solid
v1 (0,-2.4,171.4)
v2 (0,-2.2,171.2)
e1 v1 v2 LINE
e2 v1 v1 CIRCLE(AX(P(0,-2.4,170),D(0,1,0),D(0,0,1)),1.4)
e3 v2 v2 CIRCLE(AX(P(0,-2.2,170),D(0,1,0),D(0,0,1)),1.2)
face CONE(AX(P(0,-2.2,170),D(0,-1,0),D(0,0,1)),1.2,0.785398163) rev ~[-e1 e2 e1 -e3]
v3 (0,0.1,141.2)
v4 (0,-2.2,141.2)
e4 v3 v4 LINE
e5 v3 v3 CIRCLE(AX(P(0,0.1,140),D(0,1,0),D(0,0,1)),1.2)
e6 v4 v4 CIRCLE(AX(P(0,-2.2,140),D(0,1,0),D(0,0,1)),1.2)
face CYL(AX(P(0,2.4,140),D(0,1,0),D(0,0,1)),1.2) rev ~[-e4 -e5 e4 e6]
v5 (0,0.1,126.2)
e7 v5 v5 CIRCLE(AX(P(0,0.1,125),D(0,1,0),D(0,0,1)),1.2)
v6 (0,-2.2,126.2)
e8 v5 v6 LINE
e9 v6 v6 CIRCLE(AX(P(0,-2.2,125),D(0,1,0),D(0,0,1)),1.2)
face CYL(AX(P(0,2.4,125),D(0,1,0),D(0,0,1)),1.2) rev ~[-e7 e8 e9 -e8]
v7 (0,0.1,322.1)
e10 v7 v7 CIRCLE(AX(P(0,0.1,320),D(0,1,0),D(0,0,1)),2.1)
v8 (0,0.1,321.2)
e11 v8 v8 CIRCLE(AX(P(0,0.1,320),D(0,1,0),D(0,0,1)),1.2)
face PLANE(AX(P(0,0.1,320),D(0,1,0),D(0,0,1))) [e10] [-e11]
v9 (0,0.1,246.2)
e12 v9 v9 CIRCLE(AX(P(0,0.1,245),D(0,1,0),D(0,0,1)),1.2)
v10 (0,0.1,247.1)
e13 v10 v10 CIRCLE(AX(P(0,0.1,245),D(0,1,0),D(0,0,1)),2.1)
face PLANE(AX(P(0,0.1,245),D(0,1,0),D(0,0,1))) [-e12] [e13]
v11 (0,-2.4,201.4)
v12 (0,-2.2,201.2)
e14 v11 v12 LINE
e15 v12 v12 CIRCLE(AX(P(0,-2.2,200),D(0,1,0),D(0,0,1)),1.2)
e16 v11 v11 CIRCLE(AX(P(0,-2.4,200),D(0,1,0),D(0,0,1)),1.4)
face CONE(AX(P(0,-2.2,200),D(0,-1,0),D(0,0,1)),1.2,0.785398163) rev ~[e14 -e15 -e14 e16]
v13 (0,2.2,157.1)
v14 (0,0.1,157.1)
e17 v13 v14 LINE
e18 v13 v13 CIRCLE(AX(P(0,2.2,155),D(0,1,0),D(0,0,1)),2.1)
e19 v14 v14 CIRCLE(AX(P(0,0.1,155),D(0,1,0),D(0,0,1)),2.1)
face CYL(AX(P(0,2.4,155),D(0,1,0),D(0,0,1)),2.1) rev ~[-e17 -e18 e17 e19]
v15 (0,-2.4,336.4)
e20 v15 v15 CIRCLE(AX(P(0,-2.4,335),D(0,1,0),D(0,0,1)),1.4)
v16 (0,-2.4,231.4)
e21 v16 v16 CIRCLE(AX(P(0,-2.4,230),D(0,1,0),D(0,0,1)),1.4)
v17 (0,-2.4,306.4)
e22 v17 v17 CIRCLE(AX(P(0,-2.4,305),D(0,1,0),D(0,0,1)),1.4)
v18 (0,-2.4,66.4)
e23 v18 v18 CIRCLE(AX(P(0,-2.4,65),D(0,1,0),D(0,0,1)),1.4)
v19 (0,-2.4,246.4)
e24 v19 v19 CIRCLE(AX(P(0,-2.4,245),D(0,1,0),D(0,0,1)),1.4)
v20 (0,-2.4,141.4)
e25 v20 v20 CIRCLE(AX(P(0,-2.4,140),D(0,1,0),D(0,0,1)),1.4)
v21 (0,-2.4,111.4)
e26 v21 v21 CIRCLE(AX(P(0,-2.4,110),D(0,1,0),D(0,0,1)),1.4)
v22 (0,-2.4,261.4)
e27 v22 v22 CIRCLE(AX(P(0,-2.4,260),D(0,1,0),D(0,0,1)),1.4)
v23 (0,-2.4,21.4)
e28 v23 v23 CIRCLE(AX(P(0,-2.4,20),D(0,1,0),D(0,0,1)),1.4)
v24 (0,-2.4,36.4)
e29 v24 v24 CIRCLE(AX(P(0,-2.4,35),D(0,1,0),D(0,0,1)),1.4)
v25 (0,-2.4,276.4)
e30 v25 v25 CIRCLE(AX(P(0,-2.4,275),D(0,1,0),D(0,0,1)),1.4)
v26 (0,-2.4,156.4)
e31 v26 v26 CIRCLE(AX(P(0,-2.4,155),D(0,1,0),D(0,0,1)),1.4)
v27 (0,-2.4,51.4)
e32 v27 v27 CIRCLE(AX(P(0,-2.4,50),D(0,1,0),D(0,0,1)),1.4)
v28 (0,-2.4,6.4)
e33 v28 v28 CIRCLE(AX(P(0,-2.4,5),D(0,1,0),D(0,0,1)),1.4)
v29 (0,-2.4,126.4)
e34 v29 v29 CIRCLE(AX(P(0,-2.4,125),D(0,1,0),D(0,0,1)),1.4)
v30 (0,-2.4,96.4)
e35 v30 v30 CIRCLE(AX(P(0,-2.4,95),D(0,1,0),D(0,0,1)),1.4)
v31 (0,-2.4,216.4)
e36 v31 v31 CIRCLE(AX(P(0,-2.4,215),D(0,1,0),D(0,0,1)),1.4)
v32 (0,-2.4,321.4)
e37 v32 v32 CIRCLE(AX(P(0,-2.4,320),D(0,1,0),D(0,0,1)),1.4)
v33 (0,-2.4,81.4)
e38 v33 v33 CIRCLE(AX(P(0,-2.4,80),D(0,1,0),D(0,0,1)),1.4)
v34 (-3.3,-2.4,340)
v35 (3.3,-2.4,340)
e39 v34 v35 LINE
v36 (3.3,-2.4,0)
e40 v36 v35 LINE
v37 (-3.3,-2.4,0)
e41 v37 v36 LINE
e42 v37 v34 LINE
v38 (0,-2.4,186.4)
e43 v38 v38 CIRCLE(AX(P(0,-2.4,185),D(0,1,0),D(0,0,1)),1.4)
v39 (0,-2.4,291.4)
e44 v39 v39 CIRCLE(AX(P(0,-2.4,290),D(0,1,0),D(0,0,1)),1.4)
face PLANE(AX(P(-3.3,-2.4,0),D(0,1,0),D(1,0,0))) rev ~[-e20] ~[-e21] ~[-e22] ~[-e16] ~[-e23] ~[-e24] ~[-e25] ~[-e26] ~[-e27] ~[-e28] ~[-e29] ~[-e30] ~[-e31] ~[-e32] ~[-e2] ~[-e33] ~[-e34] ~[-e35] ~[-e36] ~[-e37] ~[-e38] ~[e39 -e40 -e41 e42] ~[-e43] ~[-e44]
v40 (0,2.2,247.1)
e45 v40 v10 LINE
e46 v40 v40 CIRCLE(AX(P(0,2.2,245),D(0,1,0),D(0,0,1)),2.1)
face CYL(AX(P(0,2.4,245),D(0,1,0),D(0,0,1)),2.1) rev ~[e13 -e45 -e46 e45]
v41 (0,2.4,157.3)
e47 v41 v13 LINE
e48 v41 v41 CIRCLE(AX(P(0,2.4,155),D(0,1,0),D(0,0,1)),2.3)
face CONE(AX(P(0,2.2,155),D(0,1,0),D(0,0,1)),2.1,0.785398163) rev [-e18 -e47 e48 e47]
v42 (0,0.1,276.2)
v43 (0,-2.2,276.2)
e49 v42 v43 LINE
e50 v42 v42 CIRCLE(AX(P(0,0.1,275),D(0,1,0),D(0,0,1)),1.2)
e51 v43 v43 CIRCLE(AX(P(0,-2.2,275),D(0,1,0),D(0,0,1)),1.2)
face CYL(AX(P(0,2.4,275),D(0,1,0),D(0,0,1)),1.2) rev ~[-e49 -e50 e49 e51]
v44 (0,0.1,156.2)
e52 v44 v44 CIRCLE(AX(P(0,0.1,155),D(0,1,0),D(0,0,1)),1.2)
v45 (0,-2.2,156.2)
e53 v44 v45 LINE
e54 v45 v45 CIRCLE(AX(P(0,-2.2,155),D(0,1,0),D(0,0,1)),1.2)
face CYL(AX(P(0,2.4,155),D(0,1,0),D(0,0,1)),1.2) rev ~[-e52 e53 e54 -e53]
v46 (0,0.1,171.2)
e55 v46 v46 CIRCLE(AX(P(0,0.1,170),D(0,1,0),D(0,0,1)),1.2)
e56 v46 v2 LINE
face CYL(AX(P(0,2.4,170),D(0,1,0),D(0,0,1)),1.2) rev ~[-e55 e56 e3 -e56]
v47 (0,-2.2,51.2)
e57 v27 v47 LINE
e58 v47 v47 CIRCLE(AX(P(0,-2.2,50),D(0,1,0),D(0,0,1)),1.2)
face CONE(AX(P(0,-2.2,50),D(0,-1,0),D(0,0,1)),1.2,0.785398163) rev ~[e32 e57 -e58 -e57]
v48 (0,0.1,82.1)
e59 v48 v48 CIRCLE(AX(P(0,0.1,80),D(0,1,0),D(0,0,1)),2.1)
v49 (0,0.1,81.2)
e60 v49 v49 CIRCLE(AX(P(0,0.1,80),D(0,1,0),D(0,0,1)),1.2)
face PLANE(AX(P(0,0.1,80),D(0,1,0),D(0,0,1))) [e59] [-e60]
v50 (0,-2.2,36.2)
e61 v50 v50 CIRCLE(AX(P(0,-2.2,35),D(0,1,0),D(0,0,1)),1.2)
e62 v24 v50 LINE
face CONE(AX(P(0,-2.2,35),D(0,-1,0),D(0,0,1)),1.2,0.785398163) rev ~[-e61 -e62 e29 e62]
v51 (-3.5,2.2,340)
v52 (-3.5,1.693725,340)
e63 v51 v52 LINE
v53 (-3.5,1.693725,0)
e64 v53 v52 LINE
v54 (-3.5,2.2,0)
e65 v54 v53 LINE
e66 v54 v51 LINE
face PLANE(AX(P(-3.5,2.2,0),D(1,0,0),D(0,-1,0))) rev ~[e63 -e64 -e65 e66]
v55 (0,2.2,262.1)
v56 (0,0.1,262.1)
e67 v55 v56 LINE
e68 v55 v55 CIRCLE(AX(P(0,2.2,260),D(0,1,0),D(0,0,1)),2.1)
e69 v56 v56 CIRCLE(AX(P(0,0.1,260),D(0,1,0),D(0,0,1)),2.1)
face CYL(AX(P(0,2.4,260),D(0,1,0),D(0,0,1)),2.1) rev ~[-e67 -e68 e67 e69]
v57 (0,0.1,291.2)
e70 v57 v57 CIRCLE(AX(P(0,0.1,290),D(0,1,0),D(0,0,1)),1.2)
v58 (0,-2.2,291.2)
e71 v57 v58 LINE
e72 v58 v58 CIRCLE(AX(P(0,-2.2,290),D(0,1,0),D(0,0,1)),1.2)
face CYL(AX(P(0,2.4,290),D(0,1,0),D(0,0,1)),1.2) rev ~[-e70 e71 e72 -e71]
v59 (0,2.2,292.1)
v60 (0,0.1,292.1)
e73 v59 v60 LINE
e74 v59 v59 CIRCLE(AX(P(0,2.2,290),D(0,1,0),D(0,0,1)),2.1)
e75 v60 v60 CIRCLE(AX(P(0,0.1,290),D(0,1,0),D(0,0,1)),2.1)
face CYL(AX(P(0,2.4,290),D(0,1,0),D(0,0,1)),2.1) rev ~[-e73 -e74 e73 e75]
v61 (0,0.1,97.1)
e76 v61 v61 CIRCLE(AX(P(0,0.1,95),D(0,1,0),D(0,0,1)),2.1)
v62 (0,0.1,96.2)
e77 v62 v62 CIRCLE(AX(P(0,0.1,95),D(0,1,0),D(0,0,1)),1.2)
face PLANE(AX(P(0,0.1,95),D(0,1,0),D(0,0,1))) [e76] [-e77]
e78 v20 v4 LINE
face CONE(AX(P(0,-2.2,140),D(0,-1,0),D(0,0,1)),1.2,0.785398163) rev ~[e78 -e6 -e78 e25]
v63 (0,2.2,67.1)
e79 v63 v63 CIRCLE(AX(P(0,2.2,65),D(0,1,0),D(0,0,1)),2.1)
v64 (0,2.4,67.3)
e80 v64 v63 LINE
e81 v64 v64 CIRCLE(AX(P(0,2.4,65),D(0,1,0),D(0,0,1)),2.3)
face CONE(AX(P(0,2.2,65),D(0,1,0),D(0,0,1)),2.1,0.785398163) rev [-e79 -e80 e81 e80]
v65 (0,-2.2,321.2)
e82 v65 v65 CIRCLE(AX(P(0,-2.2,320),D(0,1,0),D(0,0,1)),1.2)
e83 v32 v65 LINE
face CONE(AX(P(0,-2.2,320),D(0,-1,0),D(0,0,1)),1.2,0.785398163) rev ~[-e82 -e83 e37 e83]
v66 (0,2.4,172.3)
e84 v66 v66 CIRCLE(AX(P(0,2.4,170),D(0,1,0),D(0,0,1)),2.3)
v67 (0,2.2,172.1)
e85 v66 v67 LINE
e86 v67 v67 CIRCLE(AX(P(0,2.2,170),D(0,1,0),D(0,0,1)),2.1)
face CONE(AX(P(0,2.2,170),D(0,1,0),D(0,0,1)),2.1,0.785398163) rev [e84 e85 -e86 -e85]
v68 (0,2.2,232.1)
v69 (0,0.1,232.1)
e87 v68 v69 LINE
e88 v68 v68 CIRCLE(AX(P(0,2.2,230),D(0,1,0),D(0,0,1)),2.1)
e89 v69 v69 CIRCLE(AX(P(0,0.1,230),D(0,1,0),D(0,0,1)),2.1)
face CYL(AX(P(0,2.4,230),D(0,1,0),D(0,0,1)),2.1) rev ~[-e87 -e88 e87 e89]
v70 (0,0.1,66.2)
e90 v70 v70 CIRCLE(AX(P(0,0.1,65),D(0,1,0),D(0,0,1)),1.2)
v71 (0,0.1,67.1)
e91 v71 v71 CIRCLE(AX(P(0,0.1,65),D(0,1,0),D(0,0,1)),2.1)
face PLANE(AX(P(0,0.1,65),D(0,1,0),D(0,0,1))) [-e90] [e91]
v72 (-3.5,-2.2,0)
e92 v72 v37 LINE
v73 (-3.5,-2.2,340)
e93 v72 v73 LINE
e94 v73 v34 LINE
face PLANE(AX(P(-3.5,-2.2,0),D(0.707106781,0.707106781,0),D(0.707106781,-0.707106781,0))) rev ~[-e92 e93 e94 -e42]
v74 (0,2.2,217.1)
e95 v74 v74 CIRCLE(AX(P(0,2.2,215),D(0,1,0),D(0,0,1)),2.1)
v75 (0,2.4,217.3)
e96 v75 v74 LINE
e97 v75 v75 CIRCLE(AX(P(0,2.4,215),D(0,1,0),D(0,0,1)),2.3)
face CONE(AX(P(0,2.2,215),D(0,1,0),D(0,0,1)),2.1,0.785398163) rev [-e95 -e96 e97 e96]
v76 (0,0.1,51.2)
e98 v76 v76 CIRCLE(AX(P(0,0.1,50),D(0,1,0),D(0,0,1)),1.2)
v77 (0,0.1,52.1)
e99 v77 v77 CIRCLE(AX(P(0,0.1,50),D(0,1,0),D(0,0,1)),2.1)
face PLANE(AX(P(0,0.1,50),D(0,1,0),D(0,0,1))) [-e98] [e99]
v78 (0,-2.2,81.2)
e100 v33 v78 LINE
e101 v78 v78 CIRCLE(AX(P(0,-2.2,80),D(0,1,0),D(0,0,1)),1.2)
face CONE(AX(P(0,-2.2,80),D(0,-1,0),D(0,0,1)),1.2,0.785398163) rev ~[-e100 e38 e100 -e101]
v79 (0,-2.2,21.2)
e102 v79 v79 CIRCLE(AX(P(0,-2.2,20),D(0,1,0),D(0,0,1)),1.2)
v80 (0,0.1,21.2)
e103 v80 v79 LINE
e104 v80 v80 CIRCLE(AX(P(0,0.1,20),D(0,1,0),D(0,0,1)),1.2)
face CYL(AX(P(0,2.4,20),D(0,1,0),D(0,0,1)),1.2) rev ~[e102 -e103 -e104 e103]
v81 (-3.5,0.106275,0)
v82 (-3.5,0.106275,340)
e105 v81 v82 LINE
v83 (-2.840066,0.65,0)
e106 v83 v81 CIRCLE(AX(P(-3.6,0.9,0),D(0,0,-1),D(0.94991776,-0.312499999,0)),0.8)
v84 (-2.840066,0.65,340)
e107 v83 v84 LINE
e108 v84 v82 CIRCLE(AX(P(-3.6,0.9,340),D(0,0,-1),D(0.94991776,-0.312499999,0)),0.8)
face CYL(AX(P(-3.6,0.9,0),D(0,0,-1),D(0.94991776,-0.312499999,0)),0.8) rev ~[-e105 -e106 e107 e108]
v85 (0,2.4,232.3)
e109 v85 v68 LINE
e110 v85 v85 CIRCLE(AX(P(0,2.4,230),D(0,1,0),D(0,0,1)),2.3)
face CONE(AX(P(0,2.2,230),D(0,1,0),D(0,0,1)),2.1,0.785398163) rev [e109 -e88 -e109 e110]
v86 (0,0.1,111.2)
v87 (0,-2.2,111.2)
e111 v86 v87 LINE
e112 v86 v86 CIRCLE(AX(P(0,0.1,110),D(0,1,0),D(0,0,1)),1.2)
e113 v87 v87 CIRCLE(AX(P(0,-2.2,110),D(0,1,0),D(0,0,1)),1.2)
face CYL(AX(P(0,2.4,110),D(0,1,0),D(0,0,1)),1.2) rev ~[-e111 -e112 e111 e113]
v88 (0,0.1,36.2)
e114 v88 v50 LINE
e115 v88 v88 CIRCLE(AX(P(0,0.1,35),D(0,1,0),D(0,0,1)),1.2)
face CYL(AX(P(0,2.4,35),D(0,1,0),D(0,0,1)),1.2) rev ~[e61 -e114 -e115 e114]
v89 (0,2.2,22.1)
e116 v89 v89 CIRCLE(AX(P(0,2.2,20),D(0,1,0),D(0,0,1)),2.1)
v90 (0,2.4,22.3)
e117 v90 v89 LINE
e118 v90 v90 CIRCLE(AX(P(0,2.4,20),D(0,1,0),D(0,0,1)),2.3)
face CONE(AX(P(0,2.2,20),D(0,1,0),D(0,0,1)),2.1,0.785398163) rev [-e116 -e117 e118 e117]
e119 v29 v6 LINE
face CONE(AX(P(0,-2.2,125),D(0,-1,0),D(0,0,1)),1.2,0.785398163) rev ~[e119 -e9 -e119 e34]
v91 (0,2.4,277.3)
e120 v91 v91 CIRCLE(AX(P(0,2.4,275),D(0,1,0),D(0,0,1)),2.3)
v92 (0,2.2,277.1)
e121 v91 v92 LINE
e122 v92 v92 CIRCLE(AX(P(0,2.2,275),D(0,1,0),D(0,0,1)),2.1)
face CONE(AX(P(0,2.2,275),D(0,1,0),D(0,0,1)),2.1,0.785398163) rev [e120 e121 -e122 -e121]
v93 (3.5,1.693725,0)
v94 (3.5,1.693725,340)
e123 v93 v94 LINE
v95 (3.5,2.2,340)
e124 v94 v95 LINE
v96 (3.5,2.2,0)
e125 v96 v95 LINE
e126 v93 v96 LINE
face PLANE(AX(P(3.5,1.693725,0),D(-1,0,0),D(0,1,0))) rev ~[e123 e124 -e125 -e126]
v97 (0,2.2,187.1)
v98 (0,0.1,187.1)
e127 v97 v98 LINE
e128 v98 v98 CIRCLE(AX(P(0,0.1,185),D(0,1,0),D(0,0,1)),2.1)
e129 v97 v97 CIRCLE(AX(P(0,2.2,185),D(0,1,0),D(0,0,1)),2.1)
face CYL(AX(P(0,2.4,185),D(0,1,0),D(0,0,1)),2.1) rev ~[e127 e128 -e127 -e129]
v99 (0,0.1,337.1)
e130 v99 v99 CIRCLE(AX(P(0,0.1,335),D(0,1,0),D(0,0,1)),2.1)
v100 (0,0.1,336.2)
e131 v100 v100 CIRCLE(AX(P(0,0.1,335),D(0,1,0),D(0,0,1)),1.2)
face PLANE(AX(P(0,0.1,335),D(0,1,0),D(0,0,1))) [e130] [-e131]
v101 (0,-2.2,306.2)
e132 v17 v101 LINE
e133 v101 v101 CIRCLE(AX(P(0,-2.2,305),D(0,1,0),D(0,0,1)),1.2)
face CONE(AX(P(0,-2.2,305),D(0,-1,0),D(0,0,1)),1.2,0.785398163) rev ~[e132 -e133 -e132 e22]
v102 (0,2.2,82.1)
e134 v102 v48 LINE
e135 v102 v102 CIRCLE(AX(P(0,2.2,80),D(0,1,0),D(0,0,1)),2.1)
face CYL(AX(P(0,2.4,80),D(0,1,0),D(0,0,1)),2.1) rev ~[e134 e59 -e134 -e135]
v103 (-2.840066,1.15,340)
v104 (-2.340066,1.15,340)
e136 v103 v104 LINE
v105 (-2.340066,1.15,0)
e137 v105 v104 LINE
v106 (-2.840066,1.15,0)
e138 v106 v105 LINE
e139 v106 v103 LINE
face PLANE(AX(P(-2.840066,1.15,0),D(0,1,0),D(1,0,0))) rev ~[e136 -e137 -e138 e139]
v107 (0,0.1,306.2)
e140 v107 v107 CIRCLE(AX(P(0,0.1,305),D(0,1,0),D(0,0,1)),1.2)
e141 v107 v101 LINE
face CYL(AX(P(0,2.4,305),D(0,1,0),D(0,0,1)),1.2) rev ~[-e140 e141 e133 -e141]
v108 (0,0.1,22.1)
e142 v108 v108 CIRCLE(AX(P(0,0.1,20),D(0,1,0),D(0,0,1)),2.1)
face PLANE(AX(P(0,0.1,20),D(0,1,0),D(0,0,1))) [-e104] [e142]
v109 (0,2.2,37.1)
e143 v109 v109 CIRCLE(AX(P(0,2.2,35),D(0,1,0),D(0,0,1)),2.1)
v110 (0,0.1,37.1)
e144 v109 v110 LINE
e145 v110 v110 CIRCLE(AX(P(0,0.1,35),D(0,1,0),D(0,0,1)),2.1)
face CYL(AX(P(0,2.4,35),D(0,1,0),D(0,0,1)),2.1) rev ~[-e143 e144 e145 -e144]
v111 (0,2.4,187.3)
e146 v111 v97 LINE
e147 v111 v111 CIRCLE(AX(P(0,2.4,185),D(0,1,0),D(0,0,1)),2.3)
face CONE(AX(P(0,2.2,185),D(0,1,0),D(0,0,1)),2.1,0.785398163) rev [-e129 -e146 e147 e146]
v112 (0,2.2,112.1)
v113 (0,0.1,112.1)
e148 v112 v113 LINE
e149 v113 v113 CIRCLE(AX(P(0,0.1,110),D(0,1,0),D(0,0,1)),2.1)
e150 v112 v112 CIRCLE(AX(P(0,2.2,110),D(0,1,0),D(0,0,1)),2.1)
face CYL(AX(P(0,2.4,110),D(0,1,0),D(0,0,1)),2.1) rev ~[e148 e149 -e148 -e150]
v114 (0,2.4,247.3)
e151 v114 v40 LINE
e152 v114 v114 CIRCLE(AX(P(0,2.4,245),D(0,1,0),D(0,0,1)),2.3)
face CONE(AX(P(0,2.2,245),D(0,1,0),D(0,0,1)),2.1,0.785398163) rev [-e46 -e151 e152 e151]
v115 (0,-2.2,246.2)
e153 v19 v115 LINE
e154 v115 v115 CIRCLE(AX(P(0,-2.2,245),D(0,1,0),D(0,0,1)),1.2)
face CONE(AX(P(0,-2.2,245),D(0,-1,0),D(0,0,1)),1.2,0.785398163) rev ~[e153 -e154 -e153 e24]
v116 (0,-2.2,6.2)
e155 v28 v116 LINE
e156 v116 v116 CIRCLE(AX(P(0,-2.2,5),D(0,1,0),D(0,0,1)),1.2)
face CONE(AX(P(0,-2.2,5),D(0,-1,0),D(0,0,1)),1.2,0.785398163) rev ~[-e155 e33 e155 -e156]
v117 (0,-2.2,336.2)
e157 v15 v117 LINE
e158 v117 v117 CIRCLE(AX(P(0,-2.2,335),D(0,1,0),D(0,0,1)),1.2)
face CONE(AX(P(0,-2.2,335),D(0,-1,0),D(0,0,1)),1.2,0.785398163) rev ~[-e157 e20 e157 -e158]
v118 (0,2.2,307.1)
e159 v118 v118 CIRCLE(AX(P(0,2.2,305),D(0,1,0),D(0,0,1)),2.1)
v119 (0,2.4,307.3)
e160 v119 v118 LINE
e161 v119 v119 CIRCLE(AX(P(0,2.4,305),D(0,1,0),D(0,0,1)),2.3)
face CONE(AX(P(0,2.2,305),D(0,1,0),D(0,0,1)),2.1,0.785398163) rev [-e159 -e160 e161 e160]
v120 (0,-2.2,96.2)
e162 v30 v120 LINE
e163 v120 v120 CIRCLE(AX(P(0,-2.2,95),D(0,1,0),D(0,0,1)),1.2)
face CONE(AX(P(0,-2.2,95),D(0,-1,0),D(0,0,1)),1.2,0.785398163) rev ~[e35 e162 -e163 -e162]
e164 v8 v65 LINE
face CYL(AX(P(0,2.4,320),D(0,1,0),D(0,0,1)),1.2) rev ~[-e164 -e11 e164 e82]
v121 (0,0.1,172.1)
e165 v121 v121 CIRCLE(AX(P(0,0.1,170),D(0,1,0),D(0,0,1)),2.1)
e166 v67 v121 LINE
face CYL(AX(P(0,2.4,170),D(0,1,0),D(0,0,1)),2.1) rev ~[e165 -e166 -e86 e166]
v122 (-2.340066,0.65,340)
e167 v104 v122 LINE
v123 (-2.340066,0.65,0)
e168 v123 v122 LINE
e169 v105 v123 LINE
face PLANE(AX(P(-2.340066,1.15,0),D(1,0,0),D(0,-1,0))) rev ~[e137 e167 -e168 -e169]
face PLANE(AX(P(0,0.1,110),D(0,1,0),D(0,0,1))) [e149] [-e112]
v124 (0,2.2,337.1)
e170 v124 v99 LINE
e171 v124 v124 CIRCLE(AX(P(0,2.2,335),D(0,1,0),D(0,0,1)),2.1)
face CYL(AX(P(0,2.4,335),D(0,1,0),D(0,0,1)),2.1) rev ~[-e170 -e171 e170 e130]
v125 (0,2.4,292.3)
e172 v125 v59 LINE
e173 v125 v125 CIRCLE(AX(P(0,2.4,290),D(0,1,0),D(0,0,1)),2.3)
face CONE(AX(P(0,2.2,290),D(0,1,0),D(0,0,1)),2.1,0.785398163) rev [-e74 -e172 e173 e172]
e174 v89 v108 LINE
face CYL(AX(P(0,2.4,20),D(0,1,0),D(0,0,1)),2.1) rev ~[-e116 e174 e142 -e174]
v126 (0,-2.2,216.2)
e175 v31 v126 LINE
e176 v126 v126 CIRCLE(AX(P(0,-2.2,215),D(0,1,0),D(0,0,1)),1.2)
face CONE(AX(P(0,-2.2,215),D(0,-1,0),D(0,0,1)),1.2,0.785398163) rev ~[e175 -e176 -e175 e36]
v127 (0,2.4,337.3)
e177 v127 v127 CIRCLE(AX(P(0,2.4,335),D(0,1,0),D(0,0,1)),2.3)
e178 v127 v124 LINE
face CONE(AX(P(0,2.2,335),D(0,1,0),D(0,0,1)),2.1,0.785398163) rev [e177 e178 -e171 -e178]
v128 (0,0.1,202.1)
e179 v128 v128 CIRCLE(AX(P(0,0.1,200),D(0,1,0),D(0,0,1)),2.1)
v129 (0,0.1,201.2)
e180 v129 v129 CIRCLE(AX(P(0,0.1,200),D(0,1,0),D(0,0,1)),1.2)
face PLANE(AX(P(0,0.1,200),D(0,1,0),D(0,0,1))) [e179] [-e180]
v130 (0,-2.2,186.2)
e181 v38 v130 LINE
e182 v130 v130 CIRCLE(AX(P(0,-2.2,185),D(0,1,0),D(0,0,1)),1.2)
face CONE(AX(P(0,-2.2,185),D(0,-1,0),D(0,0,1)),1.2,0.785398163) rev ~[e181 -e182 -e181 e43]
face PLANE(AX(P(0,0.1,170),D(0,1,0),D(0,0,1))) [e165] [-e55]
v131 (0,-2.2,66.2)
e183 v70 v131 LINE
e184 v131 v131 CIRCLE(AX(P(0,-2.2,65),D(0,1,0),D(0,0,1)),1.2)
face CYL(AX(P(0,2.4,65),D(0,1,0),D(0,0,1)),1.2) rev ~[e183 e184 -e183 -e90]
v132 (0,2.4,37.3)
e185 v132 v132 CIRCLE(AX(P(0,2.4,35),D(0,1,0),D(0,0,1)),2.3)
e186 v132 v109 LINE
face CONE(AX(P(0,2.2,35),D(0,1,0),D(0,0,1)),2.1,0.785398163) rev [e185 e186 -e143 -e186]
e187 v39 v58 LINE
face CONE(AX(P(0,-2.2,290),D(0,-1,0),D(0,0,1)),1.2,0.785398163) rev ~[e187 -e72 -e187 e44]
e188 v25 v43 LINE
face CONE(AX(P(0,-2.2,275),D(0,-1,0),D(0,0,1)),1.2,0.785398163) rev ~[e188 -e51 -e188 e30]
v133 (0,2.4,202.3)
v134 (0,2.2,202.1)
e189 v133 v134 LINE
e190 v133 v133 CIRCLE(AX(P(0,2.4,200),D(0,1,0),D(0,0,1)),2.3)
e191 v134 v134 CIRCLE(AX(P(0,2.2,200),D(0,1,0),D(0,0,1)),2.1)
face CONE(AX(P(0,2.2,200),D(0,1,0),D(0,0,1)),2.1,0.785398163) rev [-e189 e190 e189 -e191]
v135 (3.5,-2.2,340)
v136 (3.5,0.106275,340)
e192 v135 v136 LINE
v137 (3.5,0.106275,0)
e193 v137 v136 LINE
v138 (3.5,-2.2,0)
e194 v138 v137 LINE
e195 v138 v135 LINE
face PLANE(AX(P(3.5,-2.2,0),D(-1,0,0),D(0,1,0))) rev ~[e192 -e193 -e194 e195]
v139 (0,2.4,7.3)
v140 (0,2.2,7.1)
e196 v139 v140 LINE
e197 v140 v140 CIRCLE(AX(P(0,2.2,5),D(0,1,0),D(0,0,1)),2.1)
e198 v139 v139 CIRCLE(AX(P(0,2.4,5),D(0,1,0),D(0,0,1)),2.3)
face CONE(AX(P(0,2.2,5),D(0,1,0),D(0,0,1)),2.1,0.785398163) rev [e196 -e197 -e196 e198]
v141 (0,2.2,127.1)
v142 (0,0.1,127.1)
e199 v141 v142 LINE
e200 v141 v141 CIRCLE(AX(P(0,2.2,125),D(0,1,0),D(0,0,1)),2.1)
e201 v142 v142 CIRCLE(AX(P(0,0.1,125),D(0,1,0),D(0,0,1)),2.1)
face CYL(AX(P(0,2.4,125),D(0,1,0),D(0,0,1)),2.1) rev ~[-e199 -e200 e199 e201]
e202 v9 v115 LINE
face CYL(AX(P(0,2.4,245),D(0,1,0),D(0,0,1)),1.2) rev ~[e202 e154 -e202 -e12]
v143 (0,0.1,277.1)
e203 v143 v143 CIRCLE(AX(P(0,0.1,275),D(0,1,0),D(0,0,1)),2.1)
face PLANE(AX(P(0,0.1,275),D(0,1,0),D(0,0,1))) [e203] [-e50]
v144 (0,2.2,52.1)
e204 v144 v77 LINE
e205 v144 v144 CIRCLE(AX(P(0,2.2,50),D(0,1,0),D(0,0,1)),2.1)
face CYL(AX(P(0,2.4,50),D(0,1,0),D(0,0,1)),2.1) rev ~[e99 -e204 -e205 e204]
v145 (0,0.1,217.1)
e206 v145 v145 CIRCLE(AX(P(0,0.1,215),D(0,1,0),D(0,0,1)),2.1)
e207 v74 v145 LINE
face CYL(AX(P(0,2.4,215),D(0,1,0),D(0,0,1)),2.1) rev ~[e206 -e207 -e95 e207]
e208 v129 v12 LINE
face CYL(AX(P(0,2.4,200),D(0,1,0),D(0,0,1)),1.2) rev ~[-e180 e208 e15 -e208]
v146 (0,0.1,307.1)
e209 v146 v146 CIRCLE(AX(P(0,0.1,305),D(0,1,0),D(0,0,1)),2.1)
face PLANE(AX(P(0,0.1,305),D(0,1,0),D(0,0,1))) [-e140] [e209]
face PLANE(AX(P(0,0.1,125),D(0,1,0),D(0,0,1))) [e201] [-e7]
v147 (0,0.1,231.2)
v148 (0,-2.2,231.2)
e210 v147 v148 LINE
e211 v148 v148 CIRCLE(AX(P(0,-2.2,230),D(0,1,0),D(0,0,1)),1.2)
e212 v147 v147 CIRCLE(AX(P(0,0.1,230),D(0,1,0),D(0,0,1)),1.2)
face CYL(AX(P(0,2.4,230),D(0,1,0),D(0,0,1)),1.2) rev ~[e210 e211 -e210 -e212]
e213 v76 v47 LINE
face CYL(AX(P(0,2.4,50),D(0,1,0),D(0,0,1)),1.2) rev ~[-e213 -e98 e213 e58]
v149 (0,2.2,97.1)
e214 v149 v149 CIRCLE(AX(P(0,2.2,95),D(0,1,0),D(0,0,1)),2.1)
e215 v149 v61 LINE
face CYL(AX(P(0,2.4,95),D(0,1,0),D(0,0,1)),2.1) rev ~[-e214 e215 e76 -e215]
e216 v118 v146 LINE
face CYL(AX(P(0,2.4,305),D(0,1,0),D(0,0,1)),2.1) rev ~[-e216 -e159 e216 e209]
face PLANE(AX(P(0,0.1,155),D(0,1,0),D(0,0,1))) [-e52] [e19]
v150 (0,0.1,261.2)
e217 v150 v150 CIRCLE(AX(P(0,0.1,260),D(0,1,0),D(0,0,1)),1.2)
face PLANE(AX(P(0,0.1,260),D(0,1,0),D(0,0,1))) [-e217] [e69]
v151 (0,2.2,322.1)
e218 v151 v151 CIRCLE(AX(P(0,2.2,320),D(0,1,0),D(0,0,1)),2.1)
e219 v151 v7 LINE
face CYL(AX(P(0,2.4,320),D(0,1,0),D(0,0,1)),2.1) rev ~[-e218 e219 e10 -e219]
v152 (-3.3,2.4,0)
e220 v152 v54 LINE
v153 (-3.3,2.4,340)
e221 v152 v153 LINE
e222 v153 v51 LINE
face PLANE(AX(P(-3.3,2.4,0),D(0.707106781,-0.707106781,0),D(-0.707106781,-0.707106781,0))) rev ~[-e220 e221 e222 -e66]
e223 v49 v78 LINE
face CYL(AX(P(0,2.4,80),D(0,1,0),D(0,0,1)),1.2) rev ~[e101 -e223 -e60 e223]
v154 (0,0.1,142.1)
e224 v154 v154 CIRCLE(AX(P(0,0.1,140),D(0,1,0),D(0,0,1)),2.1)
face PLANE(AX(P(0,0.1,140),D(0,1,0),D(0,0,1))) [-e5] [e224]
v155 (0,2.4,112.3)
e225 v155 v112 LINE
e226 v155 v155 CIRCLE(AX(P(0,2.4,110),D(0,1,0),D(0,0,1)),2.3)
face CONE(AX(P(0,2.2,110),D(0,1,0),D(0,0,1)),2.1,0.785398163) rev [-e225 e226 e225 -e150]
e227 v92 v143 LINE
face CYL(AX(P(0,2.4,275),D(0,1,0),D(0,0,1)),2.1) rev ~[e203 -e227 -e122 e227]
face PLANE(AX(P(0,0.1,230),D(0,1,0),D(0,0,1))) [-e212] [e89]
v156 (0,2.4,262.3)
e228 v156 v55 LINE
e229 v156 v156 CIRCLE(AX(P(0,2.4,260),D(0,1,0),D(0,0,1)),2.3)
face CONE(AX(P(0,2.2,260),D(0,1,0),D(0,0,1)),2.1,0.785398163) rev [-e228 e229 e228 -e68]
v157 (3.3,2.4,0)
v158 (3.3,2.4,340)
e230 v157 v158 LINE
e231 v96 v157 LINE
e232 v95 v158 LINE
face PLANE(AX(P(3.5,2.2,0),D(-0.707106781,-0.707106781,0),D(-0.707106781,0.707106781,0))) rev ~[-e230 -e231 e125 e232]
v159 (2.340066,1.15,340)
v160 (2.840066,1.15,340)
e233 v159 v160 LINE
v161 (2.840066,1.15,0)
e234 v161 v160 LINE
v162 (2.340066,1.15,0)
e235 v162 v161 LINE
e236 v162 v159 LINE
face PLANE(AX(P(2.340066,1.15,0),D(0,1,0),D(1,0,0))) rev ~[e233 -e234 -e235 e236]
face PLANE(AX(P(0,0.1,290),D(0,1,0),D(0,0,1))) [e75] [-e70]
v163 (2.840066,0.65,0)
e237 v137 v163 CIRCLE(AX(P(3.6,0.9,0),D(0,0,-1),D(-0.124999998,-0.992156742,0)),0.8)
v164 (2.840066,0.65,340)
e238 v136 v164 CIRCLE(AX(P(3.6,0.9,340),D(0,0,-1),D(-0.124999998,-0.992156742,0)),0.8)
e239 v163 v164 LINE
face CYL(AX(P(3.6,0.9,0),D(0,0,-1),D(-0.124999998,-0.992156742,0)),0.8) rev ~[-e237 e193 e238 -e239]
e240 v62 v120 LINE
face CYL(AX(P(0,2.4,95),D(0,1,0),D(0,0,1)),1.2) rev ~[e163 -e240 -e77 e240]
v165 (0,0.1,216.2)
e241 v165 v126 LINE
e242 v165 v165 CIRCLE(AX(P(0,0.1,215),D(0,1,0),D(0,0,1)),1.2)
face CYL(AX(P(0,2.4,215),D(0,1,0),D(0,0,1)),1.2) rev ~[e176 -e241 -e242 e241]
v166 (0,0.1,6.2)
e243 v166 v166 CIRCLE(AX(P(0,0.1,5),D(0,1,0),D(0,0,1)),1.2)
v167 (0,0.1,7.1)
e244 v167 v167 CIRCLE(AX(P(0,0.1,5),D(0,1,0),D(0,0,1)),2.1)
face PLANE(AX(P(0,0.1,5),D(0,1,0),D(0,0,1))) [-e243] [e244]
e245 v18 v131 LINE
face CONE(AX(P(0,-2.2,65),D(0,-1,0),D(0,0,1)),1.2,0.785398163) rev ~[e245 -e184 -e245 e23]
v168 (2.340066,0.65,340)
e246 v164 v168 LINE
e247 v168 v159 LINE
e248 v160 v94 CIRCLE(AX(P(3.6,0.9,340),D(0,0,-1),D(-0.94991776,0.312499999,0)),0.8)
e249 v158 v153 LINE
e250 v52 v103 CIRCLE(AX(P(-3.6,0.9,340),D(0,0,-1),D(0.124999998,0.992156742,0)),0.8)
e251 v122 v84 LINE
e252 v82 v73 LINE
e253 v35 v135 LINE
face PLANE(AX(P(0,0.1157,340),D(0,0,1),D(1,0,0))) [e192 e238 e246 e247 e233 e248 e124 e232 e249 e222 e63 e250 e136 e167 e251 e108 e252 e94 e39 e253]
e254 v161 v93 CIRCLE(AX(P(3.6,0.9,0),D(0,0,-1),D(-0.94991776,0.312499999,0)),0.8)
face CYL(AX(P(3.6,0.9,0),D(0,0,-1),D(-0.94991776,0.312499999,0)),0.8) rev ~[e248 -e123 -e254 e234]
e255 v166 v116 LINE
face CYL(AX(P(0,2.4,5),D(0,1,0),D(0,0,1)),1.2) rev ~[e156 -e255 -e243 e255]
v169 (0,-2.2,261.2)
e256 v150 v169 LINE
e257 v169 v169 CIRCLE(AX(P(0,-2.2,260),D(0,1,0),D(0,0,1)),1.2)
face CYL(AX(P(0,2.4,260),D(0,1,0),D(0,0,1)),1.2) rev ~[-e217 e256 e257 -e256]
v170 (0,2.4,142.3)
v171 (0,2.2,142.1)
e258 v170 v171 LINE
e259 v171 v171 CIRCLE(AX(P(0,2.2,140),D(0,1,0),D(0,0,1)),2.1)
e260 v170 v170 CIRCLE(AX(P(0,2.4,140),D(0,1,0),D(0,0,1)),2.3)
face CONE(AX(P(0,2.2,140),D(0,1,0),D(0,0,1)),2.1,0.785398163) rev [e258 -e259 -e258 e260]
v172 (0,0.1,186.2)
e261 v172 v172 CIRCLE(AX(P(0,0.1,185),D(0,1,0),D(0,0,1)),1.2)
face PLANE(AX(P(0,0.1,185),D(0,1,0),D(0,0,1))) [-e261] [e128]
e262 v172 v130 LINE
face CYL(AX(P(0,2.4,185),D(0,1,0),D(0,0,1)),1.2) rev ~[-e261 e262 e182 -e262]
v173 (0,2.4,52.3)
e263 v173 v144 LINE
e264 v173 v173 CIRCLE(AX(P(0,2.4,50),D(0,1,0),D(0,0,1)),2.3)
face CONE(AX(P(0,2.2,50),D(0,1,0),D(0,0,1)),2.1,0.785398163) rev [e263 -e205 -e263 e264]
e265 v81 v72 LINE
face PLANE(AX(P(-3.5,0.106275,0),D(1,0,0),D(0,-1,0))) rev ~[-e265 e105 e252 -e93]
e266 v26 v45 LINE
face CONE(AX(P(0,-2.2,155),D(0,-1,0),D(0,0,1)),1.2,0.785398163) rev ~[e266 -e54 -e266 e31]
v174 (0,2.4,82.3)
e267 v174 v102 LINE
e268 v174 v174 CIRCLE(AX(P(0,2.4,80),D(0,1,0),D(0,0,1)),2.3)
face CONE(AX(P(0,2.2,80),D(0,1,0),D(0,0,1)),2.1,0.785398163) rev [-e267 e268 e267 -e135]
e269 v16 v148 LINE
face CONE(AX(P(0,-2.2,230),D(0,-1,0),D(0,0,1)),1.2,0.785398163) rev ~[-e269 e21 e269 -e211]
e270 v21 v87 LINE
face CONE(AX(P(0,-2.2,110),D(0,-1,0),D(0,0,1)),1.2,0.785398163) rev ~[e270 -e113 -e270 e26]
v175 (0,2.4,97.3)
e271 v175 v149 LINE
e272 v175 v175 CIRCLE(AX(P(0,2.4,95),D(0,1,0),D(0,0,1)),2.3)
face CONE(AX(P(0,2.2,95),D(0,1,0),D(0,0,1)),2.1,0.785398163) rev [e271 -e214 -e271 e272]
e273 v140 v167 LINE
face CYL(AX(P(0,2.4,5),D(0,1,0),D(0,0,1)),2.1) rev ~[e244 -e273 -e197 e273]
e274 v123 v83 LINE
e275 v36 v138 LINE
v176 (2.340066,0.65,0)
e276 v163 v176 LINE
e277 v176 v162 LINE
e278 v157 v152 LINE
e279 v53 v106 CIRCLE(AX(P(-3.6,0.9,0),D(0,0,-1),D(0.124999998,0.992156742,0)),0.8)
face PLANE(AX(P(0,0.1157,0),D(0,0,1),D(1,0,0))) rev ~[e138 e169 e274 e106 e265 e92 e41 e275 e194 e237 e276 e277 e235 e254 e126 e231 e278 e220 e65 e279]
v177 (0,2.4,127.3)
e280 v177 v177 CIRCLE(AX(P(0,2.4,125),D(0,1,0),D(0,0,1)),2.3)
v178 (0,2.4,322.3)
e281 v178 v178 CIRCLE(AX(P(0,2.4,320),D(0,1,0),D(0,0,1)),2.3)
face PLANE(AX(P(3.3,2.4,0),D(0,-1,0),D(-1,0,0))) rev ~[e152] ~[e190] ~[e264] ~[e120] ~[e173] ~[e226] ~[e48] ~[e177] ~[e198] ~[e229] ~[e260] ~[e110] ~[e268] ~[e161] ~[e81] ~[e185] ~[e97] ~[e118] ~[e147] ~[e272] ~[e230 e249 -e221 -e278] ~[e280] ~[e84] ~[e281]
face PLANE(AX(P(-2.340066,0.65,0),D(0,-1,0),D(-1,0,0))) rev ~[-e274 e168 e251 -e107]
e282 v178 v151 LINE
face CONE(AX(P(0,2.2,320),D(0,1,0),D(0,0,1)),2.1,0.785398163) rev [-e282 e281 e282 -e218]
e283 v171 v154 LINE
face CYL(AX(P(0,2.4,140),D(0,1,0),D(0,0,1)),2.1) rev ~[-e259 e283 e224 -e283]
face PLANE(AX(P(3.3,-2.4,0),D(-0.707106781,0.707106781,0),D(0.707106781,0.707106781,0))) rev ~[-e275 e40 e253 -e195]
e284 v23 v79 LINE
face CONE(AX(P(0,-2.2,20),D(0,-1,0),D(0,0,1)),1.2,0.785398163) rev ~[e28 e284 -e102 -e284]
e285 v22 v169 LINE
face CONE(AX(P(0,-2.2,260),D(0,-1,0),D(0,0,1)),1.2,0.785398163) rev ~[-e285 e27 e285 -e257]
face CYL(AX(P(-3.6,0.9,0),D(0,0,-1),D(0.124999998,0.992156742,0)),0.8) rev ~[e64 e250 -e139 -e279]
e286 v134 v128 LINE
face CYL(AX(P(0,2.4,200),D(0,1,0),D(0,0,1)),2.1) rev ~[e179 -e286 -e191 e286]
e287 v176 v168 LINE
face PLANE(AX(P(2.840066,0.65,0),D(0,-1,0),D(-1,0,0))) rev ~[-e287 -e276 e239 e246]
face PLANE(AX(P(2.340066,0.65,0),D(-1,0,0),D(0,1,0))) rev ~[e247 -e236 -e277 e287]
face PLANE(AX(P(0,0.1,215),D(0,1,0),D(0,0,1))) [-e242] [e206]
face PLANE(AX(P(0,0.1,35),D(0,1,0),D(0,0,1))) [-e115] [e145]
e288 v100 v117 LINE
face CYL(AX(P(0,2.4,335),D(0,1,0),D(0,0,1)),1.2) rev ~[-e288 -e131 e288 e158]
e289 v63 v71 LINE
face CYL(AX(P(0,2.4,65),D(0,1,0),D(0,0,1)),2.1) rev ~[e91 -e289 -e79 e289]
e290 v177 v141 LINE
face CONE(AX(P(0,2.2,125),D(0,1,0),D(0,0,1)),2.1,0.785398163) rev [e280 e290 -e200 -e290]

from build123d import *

# Parameters (mm, degrees)
EXTRUDE1_DEPTH             = 340
EXTRUDE2_REACH             = 342.052
SKETCH2_R                  = 1.2
SKETCH_R                   = 2.1
SKETCH_R_2                 = 1.2
EXTRUDE4_DEPTH             = 2.3
CHAMFER1_SIZE              = 0.2
LPATTERN1_COUNT            = 23
LPATTERN1_PITCH            = 15
CHAMFER1_OF_LPATTERN1_SIZE = 0.2


with BuildPart() as part:
    # Sketch1 → Extrude1 (new body)
    with BuildSketch(Plane.XY):
        with BuildLine():
            Line((-3.3, -2.4), (3.3, -2.4))
            Line((3.3, -2.4), (3.5, -2.2))
            Line((3.5, -2.2), (3.5, 0.106274607))
            ThreePointArc((3.5, 0.106274607), (3.091294745, 0.282570681), (2.840065792, 0.65))
            Line((2.840065792, 0.65), (2.340065792, 0.65))
            Line((2.340065792, 0.65), (2.340065792, 1.15))
            Line((2.340065792, 1.15), (2.840065792, 1.15))
            ThreePointArc((2.840065792, 1.15), (3.091294745, 1.517429319), (3.5, 1.693725393))
            Line((3.5, 1.693725393), (3.5, 2.2))
            Line((3.5, 2.2), (3.3, 2.4))
            Line((3.3, 2.4), (-3.3, 2.4))
            Line((-3.3, 2.4), (-3.5, 2.2))
            Line((-3.5, 2.2), (-3.5, 1.693725393))
            ThreePointArc((-3.5, 1.693725393), (-3.091294745, 1.517429319), (-2.840065792, 1.15))
            Line((-2.840065792, 1.15), (-2.340065792, 1.15))
            Line((-2.340065792, 1.15), (-2.340065792, 0.65))
            Line((-2.340065792, 0.65), (-2.840065792, 0.65))
            ThreePointArc((-2.840065792, 0.65), (-3.091294745, 0.282570681), (-3.5, 0.106274607))
            Line((-3.5, 0.106274607), (-3.5, -2.2))
            Line((-3.5, -2.2), (-3.3, -2.4))
        make_face()
    extrude(amount=EXTRUDE1_DEPTH)

    # Sketch2 → Extrude2 (cut, up to next)
    with BuildSketch(Plane(origin=(0, 2.4, 0), x_dir=(1, 0, 0), z_dir=(0, 1, 0)), mode=Mode.PRIVATE) as extrude2_sk1:
        with Locations((0, -5)):
            Circle(SKETCH2_R)
    extrude2_tool1 = extrude(extrude2_sk1.sketch, amount=-EXTRUDE2_REACH, mode=Mode.PRIVATE) & part.part
    extrude2 = extrude2_tool1.solids().sort_by_distance((0, 2.4, 5))[0]
    add(extrude2, mode=Mode.SUBTRACT)

    # Sketch → Extrude4 (cut)
    with BuildSketch(Plane(origin=(0, 2.4, 0), x_dir=(1, 0, 0), z_dir=(0, 1, 0))):
        with Locations((0, -5)):
            Circle(SKETCH_R)
        with Locations((0, -5)):
            Circle(SKETCH_R_2, mode=Mode.SUBTRACT)
    extrude4 = extrude(amount=-EXTRUDE4_DEPTH, mode=Mode.SUBTRACT)

    # Chamfer1
    chamfer1_edges = [part.edges().sort_by_distance(p)[0] for p in [
        (-1.2, -2.4, 5),
        (-2.1, 2.4, 5),
    ]]
    chamfer(chamfer1_edges, length=CHAMFER1_SIZE)

    # LPattern1: Extrude2, Extrude4 ×23
    with Locations(*[(0, 0, i * LPATTERN1_PITCH) for i in range(1, LPATTERN1_COUNT)]):
        add(extrude2, mode=Mode.SUBTRACT)
        add(extrude4, mode=Mode.SUBTRACT)

    # Chamfer1 of LPattern1
    chamfer1_of_lpattern1_edges = [part.edges().sort_by_distance(p)[0] for p in [
        (-1.2, -2.4, 20),
        (-2.1, 2.4, 20),
        (-1.2, -2.4, 35),
        (-2.1, 2.4, 35),
        (-1.2, -2.4, 50),
        (-2.1, 2.4, 50),
        (-1.2, -2.4, 65),
        (-2.1, 2.4, 65),
        (-1.2, -2.4, 80),
        (-2.1, 2.4, 80),
        (-1.2, -2.4, 95),
        (-2.1, 2.4, 95),
        (-1.2, -2.4, 110),
        (-2.1, 2.4, 110),
        (-1.2, -2.4, 125),
        (-2.1, 2.4, 125),
        (-1.2, -2.4, 140),
        (-2.1, 2.4, 140),
        (-1.2, -2.4, 155),
        (-2.1, 2.4, 155),
        (-1.2, -2.4, 170),
        (-2.1, 2.4, 170),
        (-1.2, -2.4, 185),
        (-2.1, 2.4, 185),
        (-1.2, -2.4, 200),
        (-2.1, 2.4, 200),
        (-1.2, -2.4, 215),
        (-2.1, 2.4, 215),
        (-1.2, -2.4, 230),
        (-2.1, 2.4, 230),
        (-1.2, -2.4, 245),
        (-2.1, 2.4, 245),
        (-1.2, -2.4, 260),
        (-2.1, 2.4, 260),
        (-1.2, -2.4, 275),
        (-2.1, 2.4, 275),
        (-1.2, -2.4, 290),
        (-2.1, 2.4, 290),
        (-1.2, -2.4, 305),
        (-2.1, 2.4, 305),
        (-1.2, -2.4, 320),
        (-2.1, 2.4, 320),
        (-1.2, -2.4, 335),
        (-2.1, 2.4, 335),
    ]]
    chamfer(chamfer1_of_lpattern1_edges, length=CHAMFER1_OF_LPATTERN1_SIZE)


solid = part.part
